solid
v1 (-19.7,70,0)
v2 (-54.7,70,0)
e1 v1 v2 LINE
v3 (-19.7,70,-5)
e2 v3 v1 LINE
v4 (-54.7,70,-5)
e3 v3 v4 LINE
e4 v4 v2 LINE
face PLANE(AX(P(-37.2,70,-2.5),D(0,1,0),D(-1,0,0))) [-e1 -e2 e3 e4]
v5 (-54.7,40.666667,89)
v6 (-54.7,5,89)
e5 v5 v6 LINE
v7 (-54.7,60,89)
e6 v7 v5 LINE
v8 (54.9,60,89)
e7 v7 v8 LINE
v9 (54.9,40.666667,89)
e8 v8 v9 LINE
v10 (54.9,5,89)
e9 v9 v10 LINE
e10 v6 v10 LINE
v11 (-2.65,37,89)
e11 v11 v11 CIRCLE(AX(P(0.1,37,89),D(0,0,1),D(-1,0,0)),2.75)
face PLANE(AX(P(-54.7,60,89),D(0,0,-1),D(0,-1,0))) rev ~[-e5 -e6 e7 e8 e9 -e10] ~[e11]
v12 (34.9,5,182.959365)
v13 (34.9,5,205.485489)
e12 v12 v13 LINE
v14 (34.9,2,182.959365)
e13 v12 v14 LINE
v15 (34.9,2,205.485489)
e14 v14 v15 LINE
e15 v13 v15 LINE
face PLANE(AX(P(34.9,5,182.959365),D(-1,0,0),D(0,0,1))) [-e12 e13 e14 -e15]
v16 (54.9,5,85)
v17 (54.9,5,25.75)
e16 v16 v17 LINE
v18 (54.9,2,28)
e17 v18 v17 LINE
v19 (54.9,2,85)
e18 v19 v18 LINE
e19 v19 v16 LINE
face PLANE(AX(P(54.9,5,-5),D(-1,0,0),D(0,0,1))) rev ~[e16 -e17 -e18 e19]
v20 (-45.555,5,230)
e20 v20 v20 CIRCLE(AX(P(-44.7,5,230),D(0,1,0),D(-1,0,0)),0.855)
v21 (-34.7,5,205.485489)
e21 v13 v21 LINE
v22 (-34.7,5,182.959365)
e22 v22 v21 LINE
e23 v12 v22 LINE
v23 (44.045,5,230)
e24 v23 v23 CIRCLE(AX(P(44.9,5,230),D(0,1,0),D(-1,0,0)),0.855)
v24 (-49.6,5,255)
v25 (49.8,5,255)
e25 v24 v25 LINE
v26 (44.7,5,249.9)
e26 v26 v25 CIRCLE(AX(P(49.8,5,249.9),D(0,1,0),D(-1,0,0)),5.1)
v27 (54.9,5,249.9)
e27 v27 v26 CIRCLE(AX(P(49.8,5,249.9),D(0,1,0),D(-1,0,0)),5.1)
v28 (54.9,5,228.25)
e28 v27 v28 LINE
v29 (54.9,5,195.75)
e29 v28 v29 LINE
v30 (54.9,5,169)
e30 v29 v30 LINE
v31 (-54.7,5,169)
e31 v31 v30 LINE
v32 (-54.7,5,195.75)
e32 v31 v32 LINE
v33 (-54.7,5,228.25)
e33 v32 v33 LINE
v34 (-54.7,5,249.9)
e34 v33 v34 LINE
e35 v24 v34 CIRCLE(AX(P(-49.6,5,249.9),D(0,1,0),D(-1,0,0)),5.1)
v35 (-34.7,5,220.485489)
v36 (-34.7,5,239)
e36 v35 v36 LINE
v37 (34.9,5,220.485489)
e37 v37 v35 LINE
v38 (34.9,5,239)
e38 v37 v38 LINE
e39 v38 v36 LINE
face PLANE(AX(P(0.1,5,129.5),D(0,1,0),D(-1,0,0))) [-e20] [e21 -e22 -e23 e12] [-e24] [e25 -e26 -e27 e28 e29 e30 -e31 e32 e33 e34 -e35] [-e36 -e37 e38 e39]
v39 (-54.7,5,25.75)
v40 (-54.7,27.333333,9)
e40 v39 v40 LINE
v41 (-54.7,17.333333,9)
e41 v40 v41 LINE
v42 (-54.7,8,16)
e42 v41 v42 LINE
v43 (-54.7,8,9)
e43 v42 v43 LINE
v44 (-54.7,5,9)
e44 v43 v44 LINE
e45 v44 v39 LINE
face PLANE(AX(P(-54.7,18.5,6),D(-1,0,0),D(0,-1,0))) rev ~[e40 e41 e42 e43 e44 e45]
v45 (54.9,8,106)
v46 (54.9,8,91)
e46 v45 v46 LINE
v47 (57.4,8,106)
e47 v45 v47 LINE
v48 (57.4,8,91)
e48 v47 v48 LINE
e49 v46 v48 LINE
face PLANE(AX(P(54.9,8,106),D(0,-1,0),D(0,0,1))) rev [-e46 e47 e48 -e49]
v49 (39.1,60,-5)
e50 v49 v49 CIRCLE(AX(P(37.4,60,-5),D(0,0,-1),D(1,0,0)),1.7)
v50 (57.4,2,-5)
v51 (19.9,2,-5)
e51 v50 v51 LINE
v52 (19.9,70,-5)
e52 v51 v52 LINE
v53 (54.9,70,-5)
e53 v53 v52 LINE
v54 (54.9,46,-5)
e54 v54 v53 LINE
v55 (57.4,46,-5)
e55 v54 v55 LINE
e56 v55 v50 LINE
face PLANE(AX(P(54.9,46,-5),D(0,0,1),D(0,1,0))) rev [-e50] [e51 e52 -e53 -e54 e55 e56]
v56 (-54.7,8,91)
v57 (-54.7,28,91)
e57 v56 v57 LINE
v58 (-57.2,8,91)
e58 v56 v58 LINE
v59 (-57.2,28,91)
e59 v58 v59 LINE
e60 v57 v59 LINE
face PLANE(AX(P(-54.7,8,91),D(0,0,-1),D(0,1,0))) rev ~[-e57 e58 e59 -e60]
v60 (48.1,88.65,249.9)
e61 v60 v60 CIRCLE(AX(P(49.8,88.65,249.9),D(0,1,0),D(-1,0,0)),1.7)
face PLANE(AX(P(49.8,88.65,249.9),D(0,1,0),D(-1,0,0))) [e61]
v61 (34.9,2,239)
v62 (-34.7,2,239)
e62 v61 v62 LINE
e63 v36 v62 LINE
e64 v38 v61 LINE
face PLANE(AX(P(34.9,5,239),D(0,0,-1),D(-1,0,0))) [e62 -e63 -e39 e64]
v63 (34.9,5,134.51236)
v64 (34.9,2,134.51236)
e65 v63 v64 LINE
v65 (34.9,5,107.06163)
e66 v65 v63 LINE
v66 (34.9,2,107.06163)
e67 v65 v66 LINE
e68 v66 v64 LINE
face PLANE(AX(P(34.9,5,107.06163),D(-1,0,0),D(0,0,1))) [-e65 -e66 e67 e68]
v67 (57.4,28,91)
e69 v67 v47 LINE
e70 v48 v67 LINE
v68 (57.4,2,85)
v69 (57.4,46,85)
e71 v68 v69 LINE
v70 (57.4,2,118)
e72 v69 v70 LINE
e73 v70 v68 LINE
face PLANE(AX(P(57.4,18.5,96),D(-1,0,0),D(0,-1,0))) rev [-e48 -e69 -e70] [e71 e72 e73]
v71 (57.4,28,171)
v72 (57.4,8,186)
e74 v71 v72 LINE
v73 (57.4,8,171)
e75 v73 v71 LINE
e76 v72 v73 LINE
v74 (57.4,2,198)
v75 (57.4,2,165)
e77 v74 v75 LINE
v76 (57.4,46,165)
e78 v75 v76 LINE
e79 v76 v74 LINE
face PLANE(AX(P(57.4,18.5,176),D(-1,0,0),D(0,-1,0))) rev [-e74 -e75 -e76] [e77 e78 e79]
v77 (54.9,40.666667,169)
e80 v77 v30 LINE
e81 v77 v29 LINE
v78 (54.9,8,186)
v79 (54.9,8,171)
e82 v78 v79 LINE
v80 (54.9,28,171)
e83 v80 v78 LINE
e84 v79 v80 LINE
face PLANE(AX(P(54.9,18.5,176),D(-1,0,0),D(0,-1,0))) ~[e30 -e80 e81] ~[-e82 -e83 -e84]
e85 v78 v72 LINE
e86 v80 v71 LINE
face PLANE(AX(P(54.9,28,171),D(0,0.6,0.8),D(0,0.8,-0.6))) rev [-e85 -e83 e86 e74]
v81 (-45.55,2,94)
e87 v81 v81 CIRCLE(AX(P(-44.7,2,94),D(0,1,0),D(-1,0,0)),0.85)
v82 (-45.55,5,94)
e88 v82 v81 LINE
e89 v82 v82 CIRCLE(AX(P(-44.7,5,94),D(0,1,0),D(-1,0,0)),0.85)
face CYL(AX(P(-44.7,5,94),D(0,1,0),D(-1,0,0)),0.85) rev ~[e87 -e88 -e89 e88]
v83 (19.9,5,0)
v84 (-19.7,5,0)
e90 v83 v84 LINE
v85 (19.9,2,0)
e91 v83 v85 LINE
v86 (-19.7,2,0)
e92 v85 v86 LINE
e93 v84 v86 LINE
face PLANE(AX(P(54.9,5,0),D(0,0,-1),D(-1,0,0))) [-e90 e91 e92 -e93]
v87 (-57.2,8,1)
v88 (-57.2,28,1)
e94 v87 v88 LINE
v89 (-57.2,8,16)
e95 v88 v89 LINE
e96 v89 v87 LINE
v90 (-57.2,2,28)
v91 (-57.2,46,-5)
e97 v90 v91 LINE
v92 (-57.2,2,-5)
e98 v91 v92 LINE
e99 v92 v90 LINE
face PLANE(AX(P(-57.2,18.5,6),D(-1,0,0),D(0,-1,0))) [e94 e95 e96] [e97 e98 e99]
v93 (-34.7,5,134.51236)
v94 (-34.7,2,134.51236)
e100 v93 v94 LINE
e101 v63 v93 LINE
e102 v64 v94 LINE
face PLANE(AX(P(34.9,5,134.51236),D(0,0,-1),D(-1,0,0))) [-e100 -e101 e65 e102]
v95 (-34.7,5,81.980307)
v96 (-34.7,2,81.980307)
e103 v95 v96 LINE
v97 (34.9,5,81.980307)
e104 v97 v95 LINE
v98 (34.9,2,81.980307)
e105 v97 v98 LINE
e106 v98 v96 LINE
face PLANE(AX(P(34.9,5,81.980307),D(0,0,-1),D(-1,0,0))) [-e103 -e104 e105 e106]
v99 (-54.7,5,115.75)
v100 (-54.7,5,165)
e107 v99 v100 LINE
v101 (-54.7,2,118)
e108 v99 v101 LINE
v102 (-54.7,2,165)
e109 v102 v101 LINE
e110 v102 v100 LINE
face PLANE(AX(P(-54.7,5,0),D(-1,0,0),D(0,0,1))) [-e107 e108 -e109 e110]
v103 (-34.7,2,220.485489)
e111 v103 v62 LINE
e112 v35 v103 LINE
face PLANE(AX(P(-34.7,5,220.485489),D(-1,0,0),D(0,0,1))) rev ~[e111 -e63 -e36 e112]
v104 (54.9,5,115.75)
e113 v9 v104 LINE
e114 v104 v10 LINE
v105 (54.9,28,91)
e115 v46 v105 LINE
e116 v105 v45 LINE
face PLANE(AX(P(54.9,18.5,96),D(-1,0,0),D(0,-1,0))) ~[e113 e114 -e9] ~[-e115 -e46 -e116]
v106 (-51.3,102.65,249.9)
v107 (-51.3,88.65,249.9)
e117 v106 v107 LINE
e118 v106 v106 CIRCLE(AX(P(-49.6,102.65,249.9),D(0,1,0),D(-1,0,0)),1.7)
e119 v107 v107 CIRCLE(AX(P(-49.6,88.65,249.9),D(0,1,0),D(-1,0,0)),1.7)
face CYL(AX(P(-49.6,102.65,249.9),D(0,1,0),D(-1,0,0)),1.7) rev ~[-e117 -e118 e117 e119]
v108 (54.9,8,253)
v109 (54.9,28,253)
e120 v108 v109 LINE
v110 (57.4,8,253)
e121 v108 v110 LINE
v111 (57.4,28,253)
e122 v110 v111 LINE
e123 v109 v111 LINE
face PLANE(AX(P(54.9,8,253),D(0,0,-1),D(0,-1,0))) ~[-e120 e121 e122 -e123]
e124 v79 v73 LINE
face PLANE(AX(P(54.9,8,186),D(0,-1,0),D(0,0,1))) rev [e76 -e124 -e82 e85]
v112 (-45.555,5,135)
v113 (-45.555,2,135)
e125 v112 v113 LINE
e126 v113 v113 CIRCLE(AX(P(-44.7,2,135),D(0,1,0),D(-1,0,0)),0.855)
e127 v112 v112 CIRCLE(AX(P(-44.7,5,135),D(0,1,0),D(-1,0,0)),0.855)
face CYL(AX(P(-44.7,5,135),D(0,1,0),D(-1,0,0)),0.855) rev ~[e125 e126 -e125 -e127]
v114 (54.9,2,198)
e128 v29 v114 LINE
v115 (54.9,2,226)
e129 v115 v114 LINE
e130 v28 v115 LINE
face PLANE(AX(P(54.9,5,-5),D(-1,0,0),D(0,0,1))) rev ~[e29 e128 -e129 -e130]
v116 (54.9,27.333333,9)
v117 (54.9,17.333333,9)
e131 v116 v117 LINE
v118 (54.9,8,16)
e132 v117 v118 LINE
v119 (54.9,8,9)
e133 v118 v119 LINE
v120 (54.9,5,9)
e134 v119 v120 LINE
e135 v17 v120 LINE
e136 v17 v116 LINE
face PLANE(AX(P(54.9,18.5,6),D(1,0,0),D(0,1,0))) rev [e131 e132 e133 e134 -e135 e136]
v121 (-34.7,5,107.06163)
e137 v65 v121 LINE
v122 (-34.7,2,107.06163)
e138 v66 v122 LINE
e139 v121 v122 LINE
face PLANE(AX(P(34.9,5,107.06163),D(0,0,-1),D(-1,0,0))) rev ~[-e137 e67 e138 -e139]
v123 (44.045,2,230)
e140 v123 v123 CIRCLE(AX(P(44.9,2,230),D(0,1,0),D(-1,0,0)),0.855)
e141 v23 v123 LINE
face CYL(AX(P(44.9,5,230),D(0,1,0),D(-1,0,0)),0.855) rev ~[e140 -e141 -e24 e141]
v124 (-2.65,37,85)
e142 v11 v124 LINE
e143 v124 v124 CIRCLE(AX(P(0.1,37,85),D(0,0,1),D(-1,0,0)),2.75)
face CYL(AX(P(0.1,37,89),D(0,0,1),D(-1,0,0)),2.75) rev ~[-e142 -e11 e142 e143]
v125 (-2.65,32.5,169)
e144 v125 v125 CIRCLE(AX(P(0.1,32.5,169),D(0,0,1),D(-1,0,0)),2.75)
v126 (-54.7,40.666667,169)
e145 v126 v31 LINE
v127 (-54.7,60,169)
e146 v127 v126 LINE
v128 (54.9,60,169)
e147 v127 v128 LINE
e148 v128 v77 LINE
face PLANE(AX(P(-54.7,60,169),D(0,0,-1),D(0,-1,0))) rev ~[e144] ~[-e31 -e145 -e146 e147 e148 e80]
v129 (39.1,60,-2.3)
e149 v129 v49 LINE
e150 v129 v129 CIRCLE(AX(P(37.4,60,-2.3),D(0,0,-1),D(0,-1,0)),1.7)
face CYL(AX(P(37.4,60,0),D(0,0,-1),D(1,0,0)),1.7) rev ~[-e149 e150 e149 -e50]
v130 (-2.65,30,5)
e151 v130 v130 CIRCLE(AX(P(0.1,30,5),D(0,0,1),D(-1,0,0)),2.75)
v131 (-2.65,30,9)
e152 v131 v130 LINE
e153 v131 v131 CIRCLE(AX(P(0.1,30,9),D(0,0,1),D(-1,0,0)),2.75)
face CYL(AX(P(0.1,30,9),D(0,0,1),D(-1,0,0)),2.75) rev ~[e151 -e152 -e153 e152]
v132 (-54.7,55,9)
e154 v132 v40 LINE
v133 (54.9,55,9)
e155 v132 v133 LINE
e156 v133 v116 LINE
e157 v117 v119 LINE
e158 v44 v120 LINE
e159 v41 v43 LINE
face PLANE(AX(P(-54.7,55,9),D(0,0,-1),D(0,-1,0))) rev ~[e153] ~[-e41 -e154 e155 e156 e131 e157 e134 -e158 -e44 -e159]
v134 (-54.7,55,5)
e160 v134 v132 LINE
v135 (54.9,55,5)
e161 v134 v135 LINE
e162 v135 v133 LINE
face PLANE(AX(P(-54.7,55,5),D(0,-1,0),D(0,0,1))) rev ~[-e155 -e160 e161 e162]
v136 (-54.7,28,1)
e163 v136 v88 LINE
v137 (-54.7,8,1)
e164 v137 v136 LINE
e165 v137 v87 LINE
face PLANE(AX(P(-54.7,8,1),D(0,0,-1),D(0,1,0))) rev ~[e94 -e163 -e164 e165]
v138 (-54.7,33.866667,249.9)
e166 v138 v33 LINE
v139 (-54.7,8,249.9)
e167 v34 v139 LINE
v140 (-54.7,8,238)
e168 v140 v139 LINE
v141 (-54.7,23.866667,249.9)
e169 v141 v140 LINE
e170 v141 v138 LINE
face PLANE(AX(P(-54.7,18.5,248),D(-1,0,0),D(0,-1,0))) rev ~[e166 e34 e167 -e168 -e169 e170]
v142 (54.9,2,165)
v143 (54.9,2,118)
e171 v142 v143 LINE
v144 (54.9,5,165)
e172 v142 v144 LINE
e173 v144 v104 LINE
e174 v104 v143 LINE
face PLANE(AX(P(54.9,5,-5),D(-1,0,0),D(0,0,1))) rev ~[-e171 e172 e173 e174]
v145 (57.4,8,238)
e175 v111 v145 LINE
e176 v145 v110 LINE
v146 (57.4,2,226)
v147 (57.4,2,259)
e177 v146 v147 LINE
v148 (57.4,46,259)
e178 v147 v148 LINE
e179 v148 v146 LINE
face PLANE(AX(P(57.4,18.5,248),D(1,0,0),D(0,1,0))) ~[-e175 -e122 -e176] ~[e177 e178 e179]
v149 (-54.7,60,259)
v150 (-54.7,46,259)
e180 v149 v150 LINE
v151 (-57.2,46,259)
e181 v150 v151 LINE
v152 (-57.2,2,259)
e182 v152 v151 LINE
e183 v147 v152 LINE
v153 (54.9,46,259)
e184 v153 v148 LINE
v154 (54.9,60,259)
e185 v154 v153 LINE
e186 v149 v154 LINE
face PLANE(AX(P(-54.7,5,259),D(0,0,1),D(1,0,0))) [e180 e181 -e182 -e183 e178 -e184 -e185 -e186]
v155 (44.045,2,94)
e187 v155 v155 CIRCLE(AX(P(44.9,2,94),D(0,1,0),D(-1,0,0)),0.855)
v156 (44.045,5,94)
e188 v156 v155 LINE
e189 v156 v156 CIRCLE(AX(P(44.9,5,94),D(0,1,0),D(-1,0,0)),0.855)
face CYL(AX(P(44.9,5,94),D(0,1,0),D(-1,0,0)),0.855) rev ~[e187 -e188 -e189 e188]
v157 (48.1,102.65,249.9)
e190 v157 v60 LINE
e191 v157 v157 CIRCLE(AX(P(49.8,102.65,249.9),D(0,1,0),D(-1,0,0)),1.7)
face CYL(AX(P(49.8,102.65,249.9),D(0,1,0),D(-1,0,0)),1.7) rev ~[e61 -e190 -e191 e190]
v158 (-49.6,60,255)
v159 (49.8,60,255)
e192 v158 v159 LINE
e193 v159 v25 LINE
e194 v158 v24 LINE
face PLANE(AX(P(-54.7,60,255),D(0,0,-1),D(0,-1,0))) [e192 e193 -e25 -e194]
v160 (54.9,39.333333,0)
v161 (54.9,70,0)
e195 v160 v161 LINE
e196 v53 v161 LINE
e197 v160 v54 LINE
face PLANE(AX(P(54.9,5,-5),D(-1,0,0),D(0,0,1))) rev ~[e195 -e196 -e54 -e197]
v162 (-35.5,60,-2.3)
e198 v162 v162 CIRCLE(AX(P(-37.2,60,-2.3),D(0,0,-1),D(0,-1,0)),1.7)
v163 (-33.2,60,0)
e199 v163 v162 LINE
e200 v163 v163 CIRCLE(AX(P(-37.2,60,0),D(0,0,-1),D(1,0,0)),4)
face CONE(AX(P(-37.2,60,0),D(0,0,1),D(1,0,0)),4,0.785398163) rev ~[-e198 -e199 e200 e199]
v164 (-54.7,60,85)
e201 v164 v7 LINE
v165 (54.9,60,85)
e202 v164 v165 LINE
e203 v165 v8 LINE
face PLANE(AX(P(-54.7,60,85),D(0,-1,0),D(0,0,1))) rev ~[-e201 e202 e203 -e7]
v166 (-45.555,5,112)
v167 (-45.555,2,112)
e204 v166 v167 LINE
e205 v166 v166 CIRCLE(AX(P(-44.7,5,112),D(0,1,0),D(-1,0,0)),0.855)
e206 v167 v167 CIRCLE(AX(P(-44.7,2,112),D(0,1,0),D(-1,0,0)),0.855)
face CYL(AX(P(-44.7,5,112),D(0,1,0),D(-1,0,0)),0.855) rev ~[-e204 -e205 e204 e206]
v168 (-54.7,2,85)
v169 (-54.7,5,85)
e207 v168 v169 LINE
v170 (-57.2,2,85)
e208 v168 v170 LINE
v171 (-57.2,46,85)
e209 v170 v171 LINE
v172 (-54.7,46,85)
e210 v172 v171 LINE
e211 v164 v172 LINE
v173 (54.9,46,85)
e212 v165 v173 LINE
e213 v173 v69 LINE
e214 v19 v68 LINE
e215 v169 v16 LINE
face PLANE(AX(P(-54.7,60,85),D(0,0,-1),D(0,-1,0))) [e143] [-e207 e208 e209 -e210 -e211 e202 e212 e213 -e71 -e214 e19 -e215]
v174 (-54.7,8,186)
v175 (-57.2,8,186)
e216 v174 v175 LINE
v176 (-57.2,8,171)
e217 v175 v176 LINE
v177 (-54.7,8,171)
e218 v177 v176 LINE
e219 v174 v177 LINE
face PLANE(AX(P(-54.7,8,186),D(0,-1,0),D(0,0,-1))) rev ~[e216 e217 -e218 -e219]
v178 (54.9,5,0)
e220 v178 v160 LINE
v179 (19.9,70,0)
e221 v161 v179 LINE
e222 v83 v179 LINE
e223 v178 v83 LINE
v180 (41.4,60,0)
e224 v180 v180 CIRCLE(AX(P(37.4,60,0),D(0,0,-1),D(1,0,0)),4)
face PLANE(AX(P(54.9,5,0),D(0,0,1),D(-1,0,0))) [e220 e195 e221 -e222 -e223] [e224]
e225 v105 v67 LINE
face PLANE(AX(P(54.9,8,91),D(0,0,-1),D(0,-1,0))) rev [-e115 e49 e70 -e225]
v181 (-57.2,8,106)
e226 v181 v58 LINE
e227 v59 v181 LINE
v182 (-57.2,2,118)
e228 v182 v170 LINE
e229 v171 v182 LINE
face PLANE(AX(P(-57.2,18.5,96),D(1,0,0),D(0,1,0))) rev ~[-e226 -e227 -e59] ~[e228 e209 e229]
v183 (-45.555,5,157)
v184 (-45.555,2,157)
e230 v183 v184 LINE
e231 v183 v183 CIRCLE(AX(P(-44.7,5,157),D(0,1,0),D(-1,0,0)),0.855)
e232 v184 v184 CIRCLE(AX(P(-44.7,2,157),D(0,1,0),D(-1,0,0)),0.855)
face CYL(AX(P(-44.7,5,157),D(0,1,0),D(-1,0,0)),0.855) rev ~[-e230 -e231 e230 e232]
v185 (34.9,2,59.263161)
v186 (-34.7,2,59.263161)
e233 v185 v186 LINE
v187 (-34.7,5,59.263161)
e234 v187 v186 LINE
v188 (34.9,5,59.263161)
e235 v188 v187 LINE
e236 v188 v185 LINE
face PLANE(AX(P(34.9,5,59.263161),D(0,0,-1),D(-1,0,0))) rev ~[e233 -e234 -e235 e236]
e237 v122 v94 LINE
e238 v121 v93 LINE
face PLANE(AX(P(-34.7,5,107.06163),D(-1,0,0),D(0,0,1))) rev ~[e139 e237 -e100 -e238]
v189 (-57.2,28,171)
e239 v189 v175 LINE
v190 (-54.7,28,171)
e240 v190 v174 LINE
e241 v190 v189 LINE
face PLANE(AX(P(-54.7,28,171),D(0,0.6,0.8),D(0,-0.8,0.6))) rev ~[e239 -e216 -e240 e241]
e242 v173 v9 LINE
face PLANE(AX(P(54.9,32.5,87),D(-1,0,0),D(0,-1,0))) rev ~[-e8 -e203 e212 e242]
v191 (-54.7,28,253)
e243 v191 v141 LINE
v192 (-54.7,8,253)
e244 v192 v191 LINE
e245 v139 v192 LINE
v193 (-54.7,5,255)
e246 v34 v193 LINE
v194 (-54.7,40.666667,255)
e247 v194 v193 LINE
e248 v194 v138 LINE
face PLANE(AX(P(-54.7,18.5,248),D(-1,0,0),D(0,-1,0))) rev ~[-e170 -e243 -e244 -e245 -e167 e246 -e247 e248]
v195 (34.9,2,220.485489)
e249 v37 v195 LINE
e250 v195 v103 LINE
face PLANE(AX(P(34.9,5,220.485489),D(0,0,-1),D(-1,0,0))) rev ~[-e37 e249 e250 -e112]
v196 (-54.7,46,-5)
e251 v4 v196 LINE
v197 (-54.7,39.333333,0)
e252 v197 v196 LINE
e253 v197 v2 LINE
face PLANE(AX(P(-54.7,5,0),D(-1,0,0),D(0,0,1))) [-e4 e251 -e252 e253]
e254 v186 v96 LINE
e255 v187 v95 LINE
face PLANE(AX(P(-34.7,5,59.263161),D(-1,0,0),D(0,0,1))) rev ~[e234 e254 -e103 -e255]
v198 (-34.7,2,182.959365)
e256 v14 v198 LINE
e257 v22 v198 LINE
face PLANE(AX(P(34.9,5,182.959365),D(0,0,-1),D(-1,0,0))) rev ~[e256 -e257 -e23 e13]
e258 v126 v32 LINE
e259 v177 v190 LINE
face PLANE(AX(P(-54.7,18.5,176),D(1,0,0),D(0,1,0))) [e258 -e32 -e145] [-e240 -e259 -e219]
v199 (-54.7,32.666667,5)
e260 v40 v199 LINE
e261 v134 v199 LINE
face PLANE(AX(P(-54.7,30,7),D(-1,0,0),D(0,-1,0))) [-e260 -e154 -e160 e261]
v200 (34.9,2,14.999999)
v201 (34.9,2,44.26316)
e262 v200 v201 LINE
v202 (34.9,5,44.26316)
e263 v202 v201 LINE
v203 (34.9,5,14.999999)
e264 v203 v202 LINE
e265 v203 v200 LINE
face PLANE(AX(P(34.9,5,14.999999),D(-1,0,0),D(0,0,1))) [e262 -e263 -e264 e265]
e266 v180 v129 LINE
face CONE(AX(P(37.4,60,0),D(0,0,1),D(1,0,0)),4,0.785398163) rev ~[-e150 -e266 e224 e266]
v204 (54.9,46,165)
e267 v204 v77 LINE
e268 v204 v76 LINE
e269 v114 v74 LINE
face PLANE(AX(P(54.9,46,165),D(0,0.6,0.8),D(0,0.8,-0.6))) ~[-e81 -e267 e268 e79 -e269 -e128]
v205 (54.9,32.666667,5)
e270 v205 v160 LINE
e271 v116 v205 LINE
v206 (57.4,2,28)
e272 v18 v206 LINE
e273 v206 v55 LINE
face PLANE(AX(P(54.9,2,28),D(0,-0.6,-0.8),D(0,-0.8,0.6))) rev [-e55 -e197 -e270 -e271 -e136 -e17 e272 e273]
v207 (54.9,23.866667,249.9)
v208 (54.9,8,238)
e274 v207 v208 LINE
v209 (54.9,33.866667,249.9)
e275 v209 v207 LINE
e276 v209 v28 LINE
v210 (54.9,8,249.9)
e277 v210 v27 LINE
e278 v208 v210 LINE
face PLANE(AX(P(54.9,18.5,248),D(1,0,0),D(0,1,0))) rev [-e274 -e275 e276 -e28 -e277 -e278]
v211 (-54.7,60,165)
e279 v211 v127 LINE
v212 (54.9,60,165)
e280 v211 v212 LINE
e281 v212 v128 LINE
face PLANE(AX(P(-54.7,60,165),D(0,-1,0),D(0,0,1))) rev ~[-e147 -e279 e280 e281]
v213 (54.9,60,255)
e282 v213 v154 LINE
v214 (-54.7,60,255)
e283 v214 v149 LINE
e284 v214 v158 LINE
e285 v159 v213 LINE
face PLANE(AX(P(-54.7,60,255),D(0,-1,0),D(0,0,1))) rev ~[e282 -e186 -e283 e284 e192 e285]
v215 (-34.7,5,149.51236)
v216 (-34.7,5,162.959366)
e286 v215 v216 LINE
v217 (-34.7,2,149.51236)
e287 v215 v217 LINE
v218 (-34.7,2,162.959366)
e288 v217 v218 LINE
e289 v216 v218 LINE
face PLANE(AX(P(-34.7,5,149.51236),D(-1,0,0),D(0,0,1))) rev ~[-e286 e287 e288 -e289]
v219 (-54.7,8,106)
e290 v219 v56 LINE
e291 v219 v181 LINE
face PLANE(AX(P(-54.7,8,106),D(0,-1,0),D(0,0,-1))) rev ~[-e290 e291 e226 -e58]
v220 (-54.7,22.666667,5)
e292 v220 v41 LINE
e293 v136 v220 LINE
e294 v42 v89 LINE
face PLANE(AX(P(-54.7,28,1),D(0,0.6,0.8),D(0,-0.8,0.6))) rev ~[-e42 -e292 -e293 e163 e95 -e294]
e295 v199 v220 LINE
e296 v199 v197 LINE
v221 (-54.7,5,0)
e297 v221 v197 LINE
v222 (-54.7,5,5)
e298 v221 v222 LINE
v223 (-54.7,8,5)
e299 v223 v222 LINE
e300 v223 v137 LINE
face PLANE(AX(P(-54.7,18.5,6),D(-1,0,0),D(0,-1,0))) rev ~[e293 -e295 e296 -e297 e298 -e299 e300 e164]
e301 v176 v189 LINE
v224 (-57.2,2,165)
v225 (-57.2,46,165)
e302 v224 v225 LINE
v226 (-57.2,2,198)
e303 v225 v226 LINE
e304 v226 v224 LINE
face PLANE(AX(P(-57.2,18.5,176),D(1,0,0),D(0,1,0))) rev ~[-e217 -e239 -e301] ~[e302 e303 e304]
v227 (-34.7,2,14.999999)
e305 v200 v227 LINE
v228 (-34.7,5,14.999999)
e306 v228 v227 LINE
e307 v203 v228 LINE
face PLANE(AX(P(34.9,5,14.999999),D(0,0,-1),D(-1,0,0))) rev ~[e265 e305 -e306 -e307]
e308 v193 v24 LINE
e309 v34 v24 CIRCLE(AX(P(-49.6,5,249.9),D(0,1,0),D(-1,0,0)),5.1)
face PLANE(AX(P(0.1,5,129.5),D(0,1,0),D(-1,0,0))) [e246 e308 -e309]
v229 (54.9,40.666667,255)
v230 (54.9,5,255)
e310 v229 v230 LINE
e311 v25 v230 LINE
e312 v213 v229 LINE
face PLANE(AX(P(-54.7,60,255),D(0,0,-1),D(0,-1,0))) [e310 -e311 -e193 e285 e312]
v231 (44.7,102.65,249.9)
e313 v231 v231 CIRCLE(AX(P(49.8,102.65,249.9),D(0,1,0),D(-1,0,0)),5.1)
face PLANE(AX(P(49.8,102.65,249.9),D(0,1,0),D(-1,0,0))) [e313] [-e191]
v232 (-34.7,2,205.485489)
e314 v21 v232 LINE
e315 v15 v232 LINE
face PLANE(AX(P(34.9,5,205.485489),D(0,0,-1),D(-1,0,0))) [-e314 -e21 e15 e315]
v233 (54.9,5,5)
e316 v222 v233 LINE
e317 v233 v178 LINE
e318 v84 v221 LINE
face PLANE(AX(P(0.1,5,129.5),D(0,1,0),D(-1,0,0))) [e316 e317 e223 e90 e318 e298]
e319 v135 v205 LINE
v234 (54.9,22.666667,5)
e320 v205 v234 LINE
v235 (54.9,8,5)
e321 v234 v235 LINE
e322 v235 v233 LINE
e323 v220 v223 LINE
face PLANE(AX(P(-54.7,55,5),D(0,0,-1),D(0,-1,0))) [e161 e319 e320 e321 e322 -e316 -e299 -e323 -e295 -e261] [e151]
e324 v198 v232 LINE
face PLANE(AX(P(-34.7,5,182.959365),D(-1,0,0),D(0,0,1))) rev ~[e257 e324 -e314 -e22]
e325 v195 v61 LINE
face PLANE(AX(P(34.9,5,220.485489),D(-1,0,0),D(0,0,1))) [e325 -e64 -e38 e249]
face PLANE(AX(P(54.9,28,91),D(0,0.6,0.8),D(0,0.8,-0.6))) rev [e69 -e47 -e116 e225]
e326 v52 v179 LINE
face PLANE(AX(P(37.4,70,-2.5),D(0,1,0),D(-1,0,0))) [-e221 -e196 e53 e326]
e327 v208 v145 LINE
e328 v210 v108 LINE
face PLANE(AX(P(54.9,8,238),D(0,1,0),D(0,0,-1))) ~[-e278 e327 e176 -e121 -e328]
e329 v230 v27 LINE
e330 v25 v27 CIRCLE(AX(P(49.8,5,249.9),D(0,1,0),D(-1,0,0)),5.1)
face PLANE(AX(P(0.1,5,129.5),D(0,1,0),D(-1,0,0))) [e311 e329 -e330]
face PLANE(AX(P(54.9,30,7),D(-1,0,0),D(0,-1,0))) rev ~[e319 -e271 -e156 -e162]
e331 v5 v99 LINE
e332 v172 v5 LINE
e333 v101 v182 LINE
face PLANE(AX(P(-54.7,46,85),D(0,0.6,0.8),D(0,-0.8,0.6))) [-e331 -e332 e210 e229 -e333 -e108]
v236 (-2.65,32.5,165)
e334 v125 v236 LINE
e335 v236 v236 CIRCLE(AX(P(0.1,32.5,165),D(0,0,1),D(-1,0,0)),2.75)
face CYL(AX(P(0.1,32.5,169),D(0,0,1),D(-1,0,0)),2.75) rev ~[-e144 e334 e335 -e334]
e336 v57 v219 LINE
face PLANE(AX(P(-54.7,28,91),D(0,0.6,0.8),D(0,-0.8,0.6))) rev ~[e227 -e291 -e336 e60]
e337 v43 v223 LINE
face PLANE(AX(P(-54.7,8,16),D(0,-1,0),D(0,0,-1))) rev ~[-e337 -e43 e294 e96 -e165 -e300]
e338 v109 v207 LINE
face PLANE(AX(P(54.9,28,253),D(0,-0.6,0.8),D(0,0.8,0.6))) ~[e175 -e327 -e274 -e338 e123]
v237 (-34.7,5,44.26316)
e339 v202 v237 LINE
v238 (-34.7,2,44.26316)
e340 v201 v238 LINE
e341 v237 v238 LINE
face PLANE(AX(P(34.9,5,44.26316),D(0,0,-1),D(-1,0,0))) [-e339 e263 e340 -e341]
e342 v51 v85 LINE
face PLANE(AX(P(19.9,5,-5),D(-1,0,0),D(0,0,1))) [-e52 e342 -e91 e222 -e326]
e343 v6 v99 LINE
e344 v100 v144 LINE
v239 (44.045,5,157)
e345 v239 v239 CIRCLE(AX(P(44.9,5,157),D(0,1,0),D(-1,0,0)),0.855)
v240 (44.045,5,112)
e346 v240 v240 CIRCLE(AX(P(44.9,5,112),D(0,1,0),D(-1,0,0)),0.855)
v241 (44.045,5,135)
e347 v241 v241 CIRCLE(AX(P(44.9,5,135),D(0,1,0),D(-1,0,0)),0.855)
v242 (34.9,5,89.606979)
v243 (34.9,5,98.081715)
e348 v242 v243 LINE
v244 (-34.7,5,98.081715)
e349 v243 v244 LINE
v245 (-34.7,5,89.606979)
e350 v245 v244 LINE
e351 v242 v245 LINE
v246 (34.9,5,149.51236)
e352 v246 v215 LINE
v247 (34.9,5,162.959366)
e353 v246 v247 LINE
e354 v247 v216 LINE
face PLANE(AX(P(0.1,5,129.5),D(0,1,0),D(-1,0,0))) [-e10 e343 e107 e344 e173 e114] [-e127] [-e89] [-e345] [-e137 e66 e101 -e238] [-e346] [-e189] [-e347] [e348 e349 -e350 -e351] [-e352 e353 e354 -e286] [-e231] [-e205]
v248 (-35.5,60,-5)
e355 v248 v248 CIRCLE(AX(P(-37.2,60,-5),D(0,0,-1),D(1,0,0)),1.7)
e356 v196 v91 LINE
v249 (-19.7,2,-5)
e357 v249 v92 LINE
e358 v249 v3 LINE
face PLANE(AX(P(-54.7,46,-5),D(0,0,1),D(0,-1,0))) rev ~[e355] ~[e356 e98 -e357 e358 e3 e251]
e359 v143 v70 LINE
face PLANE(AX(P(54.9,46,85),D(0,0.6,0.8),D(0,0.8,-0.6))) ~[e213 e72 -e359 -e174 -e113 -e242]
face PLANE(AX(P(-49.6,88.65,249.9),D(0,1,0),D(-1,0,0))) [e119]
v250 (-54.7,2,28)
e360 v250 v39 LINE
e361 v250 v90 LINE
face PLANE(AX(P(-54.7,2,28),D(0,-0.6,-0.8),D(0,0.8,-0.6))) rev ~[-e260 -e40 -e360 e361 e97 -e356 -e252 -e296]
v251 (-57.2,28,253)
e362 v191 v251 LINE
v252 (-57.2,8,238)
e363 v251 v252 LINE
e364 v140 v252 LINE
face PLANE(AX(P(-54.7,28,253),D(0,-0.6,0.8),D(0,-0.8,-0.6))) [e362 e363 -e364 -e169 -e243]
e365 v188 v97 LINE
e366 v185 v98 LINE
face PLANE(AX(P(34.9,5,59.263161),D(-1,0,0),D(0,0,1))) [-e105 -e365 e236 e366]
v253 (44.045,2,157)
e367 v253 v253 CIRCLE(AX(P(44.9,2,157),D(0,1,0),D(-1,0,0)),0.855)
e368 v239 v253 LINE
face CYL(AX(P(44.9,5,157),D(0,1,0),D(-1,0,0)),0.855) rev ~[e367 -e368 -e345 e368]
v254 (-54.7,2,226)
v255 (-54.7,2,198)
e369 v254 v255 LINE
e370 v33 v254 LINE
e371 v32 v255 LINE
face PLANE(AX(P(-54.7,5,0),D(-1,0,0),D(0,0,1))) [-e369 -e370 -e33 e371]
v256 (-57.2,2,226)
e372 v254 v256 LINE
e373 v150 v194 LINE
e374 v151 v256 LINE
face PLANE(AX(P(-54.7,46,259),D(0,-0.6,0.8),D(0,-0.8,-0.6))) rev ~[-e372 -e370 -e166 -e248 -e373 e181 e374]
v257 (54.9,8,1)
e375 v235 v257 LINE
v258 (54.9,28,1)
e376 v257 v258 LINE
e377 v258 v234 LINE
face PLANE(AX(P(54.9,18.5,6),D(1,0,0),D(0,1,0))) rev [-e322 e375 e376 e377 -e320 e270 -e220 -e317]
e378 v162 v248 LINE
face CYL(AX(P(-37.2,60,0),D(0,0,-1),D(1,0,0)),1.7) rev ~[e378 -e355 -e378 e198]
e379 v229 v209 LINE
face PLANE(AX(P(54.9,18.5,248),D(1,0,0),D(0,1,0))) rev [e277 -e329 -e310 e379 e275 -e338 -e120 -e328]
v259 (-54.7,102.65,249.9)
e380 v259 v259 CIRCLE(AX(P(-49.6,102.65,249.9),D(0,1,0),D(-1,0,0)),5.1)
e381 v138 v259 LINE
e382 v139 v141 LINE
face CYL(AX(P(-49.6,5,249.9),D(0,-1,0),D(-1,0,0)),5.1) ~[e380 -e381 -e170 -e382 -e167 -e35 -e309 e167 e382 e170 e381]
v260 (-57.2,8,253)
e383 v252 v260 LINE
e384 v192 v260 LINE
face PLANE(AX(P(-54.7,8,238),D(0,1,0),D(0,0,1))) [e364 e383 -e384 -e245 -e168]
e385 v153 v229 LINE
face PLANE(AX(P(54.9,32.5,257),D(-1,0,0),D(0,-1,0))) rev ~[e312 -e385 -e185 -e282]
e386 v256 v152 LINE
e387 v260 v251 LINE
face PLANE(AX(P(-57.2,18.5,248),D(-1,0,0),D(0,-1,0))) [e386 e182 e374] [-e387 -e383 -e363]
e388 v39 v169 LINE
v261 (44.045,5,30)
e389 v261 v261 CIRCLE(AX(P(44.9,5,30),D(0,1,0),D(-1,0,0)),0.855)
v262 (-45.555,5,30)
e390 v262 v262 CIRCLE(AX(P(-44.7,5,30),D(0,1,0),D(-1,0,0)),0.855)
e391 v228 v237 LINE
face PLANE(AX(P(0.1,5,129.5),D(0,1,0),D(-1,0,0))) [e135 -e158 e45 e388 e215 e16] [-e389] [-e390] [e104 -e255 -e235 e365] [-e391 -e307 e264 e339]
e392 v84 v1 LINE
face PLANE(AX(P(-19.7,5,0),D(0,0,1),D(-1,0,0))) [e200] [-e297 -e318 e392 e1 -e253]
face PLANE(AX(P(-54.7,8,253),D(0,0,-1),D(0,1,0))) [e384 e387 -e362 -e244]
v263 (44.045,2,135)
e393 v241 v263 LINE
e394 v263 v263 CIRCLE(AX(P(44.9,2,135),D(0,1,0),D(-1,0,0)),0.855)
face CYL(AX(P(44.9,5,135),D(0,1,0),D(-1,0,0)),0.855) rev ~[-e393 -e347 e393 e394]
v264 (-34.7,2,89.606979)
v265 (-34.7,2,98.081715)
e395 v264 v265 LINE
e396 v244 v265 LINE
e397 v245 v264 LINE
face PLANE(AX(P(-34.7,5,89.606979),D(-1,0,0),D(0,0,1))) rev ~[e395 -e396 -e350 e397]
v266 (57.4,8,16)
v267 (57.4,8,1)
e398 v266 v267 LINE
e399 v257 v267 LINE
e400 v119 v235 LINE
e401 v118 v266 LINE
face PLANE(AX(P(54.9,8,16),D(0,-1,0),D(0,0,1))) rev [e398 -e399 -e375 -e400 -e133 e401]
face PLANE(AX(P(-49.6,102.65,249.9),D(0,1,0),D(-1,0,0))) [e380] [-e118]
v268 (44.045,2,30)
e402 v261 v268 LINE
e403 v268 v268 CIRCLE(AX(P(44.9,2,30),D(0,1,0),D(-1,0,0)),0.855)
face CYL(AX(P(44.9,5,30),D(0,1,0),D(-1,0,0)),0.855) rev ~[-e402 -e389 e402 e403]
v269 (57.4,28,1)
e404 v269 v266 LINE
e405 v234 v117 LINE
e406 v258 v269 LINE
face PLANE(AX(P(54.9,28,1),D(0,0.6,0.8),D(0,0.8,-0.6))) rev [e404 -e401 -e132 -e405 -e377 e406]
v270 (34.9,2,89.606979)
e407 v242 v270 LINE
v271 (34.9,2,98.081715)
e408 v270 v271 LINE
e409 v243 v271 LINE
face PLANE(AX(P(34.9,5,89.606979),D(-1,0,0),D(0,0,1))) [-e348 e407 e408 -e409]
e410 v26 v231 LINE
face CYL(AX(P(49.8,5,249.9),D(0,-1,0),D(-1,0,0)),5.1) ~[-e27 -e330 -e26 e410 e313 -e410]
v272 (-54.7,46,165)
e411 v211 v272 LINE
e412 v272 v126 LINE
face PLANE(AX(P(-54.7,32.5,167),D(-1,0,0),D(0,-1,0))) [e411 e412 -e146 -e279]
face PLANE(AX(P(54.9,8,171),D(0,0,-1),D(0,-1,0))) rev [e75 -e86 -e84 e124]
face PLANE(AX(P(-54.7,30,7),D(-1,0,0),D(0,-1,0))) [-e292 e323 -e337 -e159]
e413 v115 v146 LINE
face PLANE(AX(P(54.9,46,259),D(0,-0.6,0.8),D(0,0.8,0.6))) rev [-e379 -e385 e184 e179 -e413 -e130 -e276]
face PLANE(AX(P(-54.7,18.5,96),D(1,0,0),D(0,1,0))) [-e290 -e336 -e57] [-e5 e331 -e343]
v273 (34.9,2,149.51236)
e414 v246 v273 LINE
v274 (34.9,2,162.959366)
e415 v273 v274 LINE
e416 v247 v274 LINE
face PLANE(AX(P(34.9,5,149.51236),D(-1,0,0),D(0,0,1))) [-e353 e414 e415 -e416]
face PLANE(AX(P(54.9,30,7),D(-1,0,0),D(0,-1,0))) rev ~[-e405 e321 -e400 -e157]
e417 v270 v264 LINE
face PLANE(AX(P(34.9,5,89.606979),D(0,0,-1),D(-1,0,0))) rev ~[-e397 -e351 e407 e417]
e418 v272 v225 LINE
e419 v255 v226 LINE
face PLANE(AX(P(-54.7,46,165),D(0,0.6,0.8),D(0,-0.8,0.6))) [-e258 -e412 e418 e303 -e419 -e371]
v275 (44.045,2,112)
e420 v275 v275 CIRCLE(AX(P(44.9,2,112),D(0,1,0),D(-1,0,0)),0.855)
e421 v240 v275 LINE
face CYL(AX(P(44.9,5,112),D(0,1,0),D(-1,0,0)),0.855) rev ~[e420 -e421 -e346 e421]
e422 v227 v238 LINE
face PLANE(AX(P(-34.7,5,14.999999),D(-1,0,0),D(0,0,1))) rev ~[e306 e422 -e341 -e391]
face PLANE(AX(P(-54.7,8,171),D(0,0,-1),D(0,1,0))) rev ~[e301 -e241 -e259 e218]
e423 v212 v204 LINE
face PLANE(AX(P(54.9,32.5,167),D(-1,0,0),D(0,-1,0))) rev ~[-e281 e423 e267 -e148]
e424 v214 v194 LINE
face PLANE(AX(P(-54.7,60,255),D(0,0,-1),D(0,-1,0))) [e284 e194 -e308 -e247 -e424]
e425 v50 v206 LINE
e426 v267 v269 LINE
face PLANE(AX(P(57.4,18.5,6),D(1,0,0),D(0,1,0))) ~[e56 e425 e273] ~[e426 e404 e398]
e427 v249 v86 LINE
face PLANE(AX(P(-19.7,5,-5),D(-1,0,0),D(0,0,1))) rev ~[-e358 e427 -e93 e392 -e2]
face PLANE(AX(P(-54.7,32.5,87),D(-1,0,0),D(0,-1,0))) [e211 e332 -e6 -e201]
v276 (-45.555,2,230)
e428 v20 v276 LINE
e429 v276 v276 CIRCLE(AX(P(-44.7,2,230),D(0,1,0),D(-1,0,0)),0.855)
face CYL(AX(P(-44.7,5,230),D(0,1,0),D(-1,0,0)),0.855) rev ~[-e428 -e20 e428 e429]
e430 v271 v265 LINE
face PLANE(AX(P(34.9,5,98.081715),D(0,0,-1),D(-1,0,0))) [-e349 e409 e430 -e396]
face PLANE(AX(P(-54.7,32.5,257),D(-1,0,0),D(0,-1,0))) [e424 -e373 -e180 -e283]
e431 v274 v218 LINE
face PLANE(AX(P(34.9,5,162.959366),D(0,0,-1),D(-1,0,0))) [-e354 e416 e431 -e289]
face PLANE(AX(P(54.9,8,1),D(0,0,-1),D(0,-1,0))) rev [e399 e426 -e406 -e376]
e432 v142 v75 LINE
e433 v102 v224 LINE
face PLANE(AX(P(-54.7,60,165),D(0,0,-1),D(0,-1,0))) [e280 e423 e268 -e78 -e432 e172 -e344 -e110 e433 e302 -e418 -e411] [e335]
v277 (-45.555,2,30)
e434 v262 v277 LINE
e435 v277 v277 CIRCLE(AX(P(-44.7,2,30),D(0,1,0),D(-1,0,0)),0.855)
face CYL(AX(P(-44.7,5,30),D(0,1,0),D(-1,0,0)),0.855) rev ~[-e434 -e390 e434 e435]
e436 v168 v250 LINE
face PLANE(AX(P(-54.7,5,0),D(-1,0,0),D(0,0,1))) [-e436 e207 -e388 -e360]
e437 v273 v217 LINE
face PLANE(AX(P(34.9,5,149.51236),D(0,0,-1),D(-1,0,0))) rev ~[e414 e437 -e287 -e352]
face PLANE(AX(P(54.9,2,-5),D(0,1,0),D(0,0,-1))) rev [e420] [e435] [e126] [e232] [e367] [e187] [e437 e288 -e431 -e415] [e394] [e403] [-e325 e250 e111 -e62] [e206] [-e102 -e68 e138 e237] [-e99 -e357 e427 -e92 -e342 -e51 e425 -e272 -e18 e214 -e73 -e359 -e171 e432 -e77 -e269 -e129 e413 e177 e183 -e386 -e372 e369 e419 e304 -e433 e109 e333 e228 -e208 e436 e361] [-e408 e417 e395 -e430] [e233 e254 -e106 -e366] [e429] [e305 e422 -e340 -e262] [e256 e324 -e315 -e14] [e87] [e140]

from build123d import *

# Parameters (mm, degrees)
SKETCH005_R             = 0.855
SKETCH005_R_2           = 0.85
SKETCH005_W             = 69.6
SKETCH005_H             = 13.447006
SKETCH005_H_2           = 27.45073
SKETCH005_H_3           = 18.514511
SKETCH005_H_4           = 22.526123
SKETCH005_H_5           = 22.717146
SKETCH005_H_6           = 29.263161
SKETCH005_H_7           = 8.474735
PAD004_DEPTH            = 3
SKETCH007_W             = 35
SKETCH007_H             = 5
PAD006_DEPTH            = 65
PAD006_DEPTH_BACK       = 3
HOLE001_D               = 3.4
HOLE001_DEPTH           = 25
HOLE001_CSINK_D         = 8
HOLE001_CSINK_ANGLE     = 90
PAD007_DEPTH            = 2.5
SKETCH010_W             = 55
SKETCH010_H             = 4
SKETCH010_W_2           = 50
PAD008_DEPTH            = 109.6
SKETCH011_R             = 2.75
POCKET_DEPTH            = 5
SKETCH012_R             = 2.75
POCKET001_DEPTH         = 5
SKETCH013_R             = 2.75
POCKET002_DEPTH         = 5
SKETCH014_R             = 5.1
PAD009_DEPTH            = 97.65
SKETCH015_R             = 1.7
POCKET003_DEPTH         = 14
BODY001_PLACEMENT_ANGLE = 180


with BuildPart() as part:
    # Sketch005 → Pad004 (new body)
    with BuildSketch(Plane.XZ):
        Polygon((-54.8, 256.6), (-54.8, 20), (-54.8, 0), (54.8, 0), (54.8, 20), (54.8, 256.6), (54.8, 259), (-54.8, 259), align=None)
        with Locations((-44.8, 30)):
            Circle(SKETCH005_R, mode=Mode.SUBTRACT)
        with Locations((44.8, 30)):
            Circle(SKETCH005_R, mode=Mode.SUBTRACT)
        with Locations((-44.8, 112)):
            Circle(SKETCH005_R, mode=Mode.SUBTRACT)
        with Locations((44.8, 112)):
            Circle(SKETCH005_R, mode=Mode.SUBTRACT)
        with Locations((-44.8, 157)):
            Circle(SKETCH005_R, mode=Mode.SUBTRACT)
        with Locations((44.8, 157)):
            Circle(SKETCH005_R, mode=Mode.SUBTRACT)
        with Locations((-44.8, 135)):
            Circle(SKETCH005_R, mode=Mode.SUBTRACT)
        with Locations((44.8, 135)):
            Circle(SKETCH005_R, mode=Mode.SUBTRACT)
        with Locations((-44.8, 230)):
            Circle(SKETCH005_R, mode=Mode.SUBTRACT)
        with Locations((44.8, 230)):
            Circle(SKETCH005_R, mode=Mode.SUBTRACT)
        with Locations((-44.8, 94)):
            Circle(SKETCH005_R, mode=Mode.SUBTRACT)
        with Locations((44.8, 94)):
            Circle(SKETCH005_R_2, mode=Mode.SUBTRACT)
        with Locations((0, 156.235863)):
            Rectangle(SKETCH005_W, SKETCH005_H, mode=Mode.SUBTRACT)
        with Locations((0, 120.786995)):
            Rectangle(SKETCH005_W, SKETCH005_H_2, mode=Mode.SUBTRACT)
        with Locations((0, 229.742745)):
            Rectangle(SKETCH005_W, SKETCH005_H_3, mode=Mode.SUBTRACT)
        with Locations((0, 194.222427)):
            Rectangle(SKETCH005_W, SKETCH005_H_4, mode=Mode.SUBTRACT)
        with Locations((0, 70.621734)):
            Rectangle(SKETCH005_W, SKETCH005_H_5, mode=Mode.SUBTRACT)
        with Locations((0, 29.63158)):
            Rectangle(SKETCH005_W, SKETCH005_H_6, mode=Mode.SUBTRACT)
        with Locations((0, 93.844347)):
            Rectangle(SKETCH005_W, SKETCH005_H_7, mode=Mode.SUBTRACT)
    extrude(amount=-PAD004_DEPTH)

    # Sketch007 → Pad006 (join, two sides)
    with BuildSketch(Plane.XZ) as pad006_sk:
        with Locations((-37.3, -2.5)):
            Rectangle(SKETCH007_W, SKETCH007_H)
        with Locations((37.3, -2.5)):
            Rectangle(SKETCH007_W, SKETCH007_H)
    extrude(amount=PAD006_DEPTH)
    extrude(pad006_sk.sketch, amount=-PAD006_DEPTH_BACK)

    # Hole001
    with Locations(Plane.XY):
        with Locations((-37.3, -55), (37.3, -55)):
            CounterSinkHole(HOLE001_D / 2, HOLE001_CSINK_D / 2, depth=HOLE001_DEPTH, counter_sink_angle=HOLE001_CSINK_ANGLE)

    # Sketch009 (on DatumPlane) → Pad007 (join)
    with BuildSketch(Plane.YZ.offset(54.8)):
        Polygon((-41, -5), (3, -5), (3, 28), align=None)
        Polygon((-23, 1), (-3, 16), (-3, 1), align=None, mode=Mode.SUBTRACT)
        Polygon((3, 198), (3, 165), (-41, 165), align=None)
        Polygon((-23, 171), (-3, 186), (-3, 171), align=None, mode=Mode.SUBTRACT)
        Polygon((3, 226), (3, 259), (-41, 259), align=None)
        Polygon((-23, 253), (-3, 238), (-3, 253), align=None, mode=Mode.SUBTRACT)
        Polygon((3, 118), (3, 85), (-41, 85), align=None)
        Polygon((-23, 91), (-3, 106), (-3, 91), align=None, mode=Mode.SUBTRACT)
    pad007 = extrude(amount=PAD007_DEPTH)

    # Mirrored001: Pad007 across YZ
    add(pad007.mirror(Plane.YZ))

    # Sketch010 (on DatumPlane) → Pad008 (join)
    with BuildSketch(Plane.YZ.offset(54.8)):
        with Locations((-27.5, 87)):
            Rectangle(SKETCH010_W, SKETCH010_H)
        with Locations((-27.5, 257)):
            Rectangle(SKETCH010_W, SKETCH010_H)
        with Locations((-27.5, 167)):
            Rectangle(SKETCH010_W, SKETCH010_H)
        with Locations((-25, 7)):
            Rectangle(SKETCH010_W_2, SKETCH010_H)
    extrude(amount=-PAD008_DEPTH)

    # Sketch011 (on DatumPlane) → Pocket (cut)
    with BuildSketch(Plane.XY.offset(169)):
        with Locations((0, -27.5)):
            Circle(SKETCH011_R)
    extrude(amount=-POCKET_DEPTH, mode=Mode.SUBTRACT)

    # Sketch012 (on DatumPlane) → Pocket001 (cut)
    with BuildSketch(Plane.XY.offset(89)):
        with Locations((0, -32)):
            Circle(SKETCH012_R)
    extrude(amount=-POCKET001_DEPTH, mode=Mode.SUBTRACT)

    # Sketch013 (on DatumPlane) → Pocket002 (cut)
    with BuildSketch(Plane.XY.offset(9)):
        with Locations((0, -25)):
            Circle(SKETCH013_R)
    extrude(amount=-POCKET002_DEPTH, mode=Mode.SUBTRACT)

    # Sketch014 → Pad009 (join)
    with BuildSketch(Plane.XZ):
        with Locations((-49.7, 249.9)):
            Circle(SKETCH014_R)
        with Locations((49.7, 249.9)):
            Circle(SKETCH014_R)
    extrude(amount=PAD009_DEPTH)

    # Sketch015 (on DatumPlane) → Pocket003 (cut)
    with BuildSketch(Plane.XZ.offset(97.65)):
        with Locations((-49.7, 249.9)):
            Circle(SKETCH015_R)
        with Locations((49.7, 249.9)):
            Circle(SKETCH015_R)
    extrude(amount=-POCKET003_DEPTH, mode=Mode.SUBTRACT)


with BuildPart() as part_1:
    # Body001 placement: moved
    add(part.part.moved(Location((0.1, 5, 0))).rotate(Axis((0.1, 5, 0), (0, 0, 1)), BODY001_PLACEMENT_ANGLE))


solid = part_1.part
